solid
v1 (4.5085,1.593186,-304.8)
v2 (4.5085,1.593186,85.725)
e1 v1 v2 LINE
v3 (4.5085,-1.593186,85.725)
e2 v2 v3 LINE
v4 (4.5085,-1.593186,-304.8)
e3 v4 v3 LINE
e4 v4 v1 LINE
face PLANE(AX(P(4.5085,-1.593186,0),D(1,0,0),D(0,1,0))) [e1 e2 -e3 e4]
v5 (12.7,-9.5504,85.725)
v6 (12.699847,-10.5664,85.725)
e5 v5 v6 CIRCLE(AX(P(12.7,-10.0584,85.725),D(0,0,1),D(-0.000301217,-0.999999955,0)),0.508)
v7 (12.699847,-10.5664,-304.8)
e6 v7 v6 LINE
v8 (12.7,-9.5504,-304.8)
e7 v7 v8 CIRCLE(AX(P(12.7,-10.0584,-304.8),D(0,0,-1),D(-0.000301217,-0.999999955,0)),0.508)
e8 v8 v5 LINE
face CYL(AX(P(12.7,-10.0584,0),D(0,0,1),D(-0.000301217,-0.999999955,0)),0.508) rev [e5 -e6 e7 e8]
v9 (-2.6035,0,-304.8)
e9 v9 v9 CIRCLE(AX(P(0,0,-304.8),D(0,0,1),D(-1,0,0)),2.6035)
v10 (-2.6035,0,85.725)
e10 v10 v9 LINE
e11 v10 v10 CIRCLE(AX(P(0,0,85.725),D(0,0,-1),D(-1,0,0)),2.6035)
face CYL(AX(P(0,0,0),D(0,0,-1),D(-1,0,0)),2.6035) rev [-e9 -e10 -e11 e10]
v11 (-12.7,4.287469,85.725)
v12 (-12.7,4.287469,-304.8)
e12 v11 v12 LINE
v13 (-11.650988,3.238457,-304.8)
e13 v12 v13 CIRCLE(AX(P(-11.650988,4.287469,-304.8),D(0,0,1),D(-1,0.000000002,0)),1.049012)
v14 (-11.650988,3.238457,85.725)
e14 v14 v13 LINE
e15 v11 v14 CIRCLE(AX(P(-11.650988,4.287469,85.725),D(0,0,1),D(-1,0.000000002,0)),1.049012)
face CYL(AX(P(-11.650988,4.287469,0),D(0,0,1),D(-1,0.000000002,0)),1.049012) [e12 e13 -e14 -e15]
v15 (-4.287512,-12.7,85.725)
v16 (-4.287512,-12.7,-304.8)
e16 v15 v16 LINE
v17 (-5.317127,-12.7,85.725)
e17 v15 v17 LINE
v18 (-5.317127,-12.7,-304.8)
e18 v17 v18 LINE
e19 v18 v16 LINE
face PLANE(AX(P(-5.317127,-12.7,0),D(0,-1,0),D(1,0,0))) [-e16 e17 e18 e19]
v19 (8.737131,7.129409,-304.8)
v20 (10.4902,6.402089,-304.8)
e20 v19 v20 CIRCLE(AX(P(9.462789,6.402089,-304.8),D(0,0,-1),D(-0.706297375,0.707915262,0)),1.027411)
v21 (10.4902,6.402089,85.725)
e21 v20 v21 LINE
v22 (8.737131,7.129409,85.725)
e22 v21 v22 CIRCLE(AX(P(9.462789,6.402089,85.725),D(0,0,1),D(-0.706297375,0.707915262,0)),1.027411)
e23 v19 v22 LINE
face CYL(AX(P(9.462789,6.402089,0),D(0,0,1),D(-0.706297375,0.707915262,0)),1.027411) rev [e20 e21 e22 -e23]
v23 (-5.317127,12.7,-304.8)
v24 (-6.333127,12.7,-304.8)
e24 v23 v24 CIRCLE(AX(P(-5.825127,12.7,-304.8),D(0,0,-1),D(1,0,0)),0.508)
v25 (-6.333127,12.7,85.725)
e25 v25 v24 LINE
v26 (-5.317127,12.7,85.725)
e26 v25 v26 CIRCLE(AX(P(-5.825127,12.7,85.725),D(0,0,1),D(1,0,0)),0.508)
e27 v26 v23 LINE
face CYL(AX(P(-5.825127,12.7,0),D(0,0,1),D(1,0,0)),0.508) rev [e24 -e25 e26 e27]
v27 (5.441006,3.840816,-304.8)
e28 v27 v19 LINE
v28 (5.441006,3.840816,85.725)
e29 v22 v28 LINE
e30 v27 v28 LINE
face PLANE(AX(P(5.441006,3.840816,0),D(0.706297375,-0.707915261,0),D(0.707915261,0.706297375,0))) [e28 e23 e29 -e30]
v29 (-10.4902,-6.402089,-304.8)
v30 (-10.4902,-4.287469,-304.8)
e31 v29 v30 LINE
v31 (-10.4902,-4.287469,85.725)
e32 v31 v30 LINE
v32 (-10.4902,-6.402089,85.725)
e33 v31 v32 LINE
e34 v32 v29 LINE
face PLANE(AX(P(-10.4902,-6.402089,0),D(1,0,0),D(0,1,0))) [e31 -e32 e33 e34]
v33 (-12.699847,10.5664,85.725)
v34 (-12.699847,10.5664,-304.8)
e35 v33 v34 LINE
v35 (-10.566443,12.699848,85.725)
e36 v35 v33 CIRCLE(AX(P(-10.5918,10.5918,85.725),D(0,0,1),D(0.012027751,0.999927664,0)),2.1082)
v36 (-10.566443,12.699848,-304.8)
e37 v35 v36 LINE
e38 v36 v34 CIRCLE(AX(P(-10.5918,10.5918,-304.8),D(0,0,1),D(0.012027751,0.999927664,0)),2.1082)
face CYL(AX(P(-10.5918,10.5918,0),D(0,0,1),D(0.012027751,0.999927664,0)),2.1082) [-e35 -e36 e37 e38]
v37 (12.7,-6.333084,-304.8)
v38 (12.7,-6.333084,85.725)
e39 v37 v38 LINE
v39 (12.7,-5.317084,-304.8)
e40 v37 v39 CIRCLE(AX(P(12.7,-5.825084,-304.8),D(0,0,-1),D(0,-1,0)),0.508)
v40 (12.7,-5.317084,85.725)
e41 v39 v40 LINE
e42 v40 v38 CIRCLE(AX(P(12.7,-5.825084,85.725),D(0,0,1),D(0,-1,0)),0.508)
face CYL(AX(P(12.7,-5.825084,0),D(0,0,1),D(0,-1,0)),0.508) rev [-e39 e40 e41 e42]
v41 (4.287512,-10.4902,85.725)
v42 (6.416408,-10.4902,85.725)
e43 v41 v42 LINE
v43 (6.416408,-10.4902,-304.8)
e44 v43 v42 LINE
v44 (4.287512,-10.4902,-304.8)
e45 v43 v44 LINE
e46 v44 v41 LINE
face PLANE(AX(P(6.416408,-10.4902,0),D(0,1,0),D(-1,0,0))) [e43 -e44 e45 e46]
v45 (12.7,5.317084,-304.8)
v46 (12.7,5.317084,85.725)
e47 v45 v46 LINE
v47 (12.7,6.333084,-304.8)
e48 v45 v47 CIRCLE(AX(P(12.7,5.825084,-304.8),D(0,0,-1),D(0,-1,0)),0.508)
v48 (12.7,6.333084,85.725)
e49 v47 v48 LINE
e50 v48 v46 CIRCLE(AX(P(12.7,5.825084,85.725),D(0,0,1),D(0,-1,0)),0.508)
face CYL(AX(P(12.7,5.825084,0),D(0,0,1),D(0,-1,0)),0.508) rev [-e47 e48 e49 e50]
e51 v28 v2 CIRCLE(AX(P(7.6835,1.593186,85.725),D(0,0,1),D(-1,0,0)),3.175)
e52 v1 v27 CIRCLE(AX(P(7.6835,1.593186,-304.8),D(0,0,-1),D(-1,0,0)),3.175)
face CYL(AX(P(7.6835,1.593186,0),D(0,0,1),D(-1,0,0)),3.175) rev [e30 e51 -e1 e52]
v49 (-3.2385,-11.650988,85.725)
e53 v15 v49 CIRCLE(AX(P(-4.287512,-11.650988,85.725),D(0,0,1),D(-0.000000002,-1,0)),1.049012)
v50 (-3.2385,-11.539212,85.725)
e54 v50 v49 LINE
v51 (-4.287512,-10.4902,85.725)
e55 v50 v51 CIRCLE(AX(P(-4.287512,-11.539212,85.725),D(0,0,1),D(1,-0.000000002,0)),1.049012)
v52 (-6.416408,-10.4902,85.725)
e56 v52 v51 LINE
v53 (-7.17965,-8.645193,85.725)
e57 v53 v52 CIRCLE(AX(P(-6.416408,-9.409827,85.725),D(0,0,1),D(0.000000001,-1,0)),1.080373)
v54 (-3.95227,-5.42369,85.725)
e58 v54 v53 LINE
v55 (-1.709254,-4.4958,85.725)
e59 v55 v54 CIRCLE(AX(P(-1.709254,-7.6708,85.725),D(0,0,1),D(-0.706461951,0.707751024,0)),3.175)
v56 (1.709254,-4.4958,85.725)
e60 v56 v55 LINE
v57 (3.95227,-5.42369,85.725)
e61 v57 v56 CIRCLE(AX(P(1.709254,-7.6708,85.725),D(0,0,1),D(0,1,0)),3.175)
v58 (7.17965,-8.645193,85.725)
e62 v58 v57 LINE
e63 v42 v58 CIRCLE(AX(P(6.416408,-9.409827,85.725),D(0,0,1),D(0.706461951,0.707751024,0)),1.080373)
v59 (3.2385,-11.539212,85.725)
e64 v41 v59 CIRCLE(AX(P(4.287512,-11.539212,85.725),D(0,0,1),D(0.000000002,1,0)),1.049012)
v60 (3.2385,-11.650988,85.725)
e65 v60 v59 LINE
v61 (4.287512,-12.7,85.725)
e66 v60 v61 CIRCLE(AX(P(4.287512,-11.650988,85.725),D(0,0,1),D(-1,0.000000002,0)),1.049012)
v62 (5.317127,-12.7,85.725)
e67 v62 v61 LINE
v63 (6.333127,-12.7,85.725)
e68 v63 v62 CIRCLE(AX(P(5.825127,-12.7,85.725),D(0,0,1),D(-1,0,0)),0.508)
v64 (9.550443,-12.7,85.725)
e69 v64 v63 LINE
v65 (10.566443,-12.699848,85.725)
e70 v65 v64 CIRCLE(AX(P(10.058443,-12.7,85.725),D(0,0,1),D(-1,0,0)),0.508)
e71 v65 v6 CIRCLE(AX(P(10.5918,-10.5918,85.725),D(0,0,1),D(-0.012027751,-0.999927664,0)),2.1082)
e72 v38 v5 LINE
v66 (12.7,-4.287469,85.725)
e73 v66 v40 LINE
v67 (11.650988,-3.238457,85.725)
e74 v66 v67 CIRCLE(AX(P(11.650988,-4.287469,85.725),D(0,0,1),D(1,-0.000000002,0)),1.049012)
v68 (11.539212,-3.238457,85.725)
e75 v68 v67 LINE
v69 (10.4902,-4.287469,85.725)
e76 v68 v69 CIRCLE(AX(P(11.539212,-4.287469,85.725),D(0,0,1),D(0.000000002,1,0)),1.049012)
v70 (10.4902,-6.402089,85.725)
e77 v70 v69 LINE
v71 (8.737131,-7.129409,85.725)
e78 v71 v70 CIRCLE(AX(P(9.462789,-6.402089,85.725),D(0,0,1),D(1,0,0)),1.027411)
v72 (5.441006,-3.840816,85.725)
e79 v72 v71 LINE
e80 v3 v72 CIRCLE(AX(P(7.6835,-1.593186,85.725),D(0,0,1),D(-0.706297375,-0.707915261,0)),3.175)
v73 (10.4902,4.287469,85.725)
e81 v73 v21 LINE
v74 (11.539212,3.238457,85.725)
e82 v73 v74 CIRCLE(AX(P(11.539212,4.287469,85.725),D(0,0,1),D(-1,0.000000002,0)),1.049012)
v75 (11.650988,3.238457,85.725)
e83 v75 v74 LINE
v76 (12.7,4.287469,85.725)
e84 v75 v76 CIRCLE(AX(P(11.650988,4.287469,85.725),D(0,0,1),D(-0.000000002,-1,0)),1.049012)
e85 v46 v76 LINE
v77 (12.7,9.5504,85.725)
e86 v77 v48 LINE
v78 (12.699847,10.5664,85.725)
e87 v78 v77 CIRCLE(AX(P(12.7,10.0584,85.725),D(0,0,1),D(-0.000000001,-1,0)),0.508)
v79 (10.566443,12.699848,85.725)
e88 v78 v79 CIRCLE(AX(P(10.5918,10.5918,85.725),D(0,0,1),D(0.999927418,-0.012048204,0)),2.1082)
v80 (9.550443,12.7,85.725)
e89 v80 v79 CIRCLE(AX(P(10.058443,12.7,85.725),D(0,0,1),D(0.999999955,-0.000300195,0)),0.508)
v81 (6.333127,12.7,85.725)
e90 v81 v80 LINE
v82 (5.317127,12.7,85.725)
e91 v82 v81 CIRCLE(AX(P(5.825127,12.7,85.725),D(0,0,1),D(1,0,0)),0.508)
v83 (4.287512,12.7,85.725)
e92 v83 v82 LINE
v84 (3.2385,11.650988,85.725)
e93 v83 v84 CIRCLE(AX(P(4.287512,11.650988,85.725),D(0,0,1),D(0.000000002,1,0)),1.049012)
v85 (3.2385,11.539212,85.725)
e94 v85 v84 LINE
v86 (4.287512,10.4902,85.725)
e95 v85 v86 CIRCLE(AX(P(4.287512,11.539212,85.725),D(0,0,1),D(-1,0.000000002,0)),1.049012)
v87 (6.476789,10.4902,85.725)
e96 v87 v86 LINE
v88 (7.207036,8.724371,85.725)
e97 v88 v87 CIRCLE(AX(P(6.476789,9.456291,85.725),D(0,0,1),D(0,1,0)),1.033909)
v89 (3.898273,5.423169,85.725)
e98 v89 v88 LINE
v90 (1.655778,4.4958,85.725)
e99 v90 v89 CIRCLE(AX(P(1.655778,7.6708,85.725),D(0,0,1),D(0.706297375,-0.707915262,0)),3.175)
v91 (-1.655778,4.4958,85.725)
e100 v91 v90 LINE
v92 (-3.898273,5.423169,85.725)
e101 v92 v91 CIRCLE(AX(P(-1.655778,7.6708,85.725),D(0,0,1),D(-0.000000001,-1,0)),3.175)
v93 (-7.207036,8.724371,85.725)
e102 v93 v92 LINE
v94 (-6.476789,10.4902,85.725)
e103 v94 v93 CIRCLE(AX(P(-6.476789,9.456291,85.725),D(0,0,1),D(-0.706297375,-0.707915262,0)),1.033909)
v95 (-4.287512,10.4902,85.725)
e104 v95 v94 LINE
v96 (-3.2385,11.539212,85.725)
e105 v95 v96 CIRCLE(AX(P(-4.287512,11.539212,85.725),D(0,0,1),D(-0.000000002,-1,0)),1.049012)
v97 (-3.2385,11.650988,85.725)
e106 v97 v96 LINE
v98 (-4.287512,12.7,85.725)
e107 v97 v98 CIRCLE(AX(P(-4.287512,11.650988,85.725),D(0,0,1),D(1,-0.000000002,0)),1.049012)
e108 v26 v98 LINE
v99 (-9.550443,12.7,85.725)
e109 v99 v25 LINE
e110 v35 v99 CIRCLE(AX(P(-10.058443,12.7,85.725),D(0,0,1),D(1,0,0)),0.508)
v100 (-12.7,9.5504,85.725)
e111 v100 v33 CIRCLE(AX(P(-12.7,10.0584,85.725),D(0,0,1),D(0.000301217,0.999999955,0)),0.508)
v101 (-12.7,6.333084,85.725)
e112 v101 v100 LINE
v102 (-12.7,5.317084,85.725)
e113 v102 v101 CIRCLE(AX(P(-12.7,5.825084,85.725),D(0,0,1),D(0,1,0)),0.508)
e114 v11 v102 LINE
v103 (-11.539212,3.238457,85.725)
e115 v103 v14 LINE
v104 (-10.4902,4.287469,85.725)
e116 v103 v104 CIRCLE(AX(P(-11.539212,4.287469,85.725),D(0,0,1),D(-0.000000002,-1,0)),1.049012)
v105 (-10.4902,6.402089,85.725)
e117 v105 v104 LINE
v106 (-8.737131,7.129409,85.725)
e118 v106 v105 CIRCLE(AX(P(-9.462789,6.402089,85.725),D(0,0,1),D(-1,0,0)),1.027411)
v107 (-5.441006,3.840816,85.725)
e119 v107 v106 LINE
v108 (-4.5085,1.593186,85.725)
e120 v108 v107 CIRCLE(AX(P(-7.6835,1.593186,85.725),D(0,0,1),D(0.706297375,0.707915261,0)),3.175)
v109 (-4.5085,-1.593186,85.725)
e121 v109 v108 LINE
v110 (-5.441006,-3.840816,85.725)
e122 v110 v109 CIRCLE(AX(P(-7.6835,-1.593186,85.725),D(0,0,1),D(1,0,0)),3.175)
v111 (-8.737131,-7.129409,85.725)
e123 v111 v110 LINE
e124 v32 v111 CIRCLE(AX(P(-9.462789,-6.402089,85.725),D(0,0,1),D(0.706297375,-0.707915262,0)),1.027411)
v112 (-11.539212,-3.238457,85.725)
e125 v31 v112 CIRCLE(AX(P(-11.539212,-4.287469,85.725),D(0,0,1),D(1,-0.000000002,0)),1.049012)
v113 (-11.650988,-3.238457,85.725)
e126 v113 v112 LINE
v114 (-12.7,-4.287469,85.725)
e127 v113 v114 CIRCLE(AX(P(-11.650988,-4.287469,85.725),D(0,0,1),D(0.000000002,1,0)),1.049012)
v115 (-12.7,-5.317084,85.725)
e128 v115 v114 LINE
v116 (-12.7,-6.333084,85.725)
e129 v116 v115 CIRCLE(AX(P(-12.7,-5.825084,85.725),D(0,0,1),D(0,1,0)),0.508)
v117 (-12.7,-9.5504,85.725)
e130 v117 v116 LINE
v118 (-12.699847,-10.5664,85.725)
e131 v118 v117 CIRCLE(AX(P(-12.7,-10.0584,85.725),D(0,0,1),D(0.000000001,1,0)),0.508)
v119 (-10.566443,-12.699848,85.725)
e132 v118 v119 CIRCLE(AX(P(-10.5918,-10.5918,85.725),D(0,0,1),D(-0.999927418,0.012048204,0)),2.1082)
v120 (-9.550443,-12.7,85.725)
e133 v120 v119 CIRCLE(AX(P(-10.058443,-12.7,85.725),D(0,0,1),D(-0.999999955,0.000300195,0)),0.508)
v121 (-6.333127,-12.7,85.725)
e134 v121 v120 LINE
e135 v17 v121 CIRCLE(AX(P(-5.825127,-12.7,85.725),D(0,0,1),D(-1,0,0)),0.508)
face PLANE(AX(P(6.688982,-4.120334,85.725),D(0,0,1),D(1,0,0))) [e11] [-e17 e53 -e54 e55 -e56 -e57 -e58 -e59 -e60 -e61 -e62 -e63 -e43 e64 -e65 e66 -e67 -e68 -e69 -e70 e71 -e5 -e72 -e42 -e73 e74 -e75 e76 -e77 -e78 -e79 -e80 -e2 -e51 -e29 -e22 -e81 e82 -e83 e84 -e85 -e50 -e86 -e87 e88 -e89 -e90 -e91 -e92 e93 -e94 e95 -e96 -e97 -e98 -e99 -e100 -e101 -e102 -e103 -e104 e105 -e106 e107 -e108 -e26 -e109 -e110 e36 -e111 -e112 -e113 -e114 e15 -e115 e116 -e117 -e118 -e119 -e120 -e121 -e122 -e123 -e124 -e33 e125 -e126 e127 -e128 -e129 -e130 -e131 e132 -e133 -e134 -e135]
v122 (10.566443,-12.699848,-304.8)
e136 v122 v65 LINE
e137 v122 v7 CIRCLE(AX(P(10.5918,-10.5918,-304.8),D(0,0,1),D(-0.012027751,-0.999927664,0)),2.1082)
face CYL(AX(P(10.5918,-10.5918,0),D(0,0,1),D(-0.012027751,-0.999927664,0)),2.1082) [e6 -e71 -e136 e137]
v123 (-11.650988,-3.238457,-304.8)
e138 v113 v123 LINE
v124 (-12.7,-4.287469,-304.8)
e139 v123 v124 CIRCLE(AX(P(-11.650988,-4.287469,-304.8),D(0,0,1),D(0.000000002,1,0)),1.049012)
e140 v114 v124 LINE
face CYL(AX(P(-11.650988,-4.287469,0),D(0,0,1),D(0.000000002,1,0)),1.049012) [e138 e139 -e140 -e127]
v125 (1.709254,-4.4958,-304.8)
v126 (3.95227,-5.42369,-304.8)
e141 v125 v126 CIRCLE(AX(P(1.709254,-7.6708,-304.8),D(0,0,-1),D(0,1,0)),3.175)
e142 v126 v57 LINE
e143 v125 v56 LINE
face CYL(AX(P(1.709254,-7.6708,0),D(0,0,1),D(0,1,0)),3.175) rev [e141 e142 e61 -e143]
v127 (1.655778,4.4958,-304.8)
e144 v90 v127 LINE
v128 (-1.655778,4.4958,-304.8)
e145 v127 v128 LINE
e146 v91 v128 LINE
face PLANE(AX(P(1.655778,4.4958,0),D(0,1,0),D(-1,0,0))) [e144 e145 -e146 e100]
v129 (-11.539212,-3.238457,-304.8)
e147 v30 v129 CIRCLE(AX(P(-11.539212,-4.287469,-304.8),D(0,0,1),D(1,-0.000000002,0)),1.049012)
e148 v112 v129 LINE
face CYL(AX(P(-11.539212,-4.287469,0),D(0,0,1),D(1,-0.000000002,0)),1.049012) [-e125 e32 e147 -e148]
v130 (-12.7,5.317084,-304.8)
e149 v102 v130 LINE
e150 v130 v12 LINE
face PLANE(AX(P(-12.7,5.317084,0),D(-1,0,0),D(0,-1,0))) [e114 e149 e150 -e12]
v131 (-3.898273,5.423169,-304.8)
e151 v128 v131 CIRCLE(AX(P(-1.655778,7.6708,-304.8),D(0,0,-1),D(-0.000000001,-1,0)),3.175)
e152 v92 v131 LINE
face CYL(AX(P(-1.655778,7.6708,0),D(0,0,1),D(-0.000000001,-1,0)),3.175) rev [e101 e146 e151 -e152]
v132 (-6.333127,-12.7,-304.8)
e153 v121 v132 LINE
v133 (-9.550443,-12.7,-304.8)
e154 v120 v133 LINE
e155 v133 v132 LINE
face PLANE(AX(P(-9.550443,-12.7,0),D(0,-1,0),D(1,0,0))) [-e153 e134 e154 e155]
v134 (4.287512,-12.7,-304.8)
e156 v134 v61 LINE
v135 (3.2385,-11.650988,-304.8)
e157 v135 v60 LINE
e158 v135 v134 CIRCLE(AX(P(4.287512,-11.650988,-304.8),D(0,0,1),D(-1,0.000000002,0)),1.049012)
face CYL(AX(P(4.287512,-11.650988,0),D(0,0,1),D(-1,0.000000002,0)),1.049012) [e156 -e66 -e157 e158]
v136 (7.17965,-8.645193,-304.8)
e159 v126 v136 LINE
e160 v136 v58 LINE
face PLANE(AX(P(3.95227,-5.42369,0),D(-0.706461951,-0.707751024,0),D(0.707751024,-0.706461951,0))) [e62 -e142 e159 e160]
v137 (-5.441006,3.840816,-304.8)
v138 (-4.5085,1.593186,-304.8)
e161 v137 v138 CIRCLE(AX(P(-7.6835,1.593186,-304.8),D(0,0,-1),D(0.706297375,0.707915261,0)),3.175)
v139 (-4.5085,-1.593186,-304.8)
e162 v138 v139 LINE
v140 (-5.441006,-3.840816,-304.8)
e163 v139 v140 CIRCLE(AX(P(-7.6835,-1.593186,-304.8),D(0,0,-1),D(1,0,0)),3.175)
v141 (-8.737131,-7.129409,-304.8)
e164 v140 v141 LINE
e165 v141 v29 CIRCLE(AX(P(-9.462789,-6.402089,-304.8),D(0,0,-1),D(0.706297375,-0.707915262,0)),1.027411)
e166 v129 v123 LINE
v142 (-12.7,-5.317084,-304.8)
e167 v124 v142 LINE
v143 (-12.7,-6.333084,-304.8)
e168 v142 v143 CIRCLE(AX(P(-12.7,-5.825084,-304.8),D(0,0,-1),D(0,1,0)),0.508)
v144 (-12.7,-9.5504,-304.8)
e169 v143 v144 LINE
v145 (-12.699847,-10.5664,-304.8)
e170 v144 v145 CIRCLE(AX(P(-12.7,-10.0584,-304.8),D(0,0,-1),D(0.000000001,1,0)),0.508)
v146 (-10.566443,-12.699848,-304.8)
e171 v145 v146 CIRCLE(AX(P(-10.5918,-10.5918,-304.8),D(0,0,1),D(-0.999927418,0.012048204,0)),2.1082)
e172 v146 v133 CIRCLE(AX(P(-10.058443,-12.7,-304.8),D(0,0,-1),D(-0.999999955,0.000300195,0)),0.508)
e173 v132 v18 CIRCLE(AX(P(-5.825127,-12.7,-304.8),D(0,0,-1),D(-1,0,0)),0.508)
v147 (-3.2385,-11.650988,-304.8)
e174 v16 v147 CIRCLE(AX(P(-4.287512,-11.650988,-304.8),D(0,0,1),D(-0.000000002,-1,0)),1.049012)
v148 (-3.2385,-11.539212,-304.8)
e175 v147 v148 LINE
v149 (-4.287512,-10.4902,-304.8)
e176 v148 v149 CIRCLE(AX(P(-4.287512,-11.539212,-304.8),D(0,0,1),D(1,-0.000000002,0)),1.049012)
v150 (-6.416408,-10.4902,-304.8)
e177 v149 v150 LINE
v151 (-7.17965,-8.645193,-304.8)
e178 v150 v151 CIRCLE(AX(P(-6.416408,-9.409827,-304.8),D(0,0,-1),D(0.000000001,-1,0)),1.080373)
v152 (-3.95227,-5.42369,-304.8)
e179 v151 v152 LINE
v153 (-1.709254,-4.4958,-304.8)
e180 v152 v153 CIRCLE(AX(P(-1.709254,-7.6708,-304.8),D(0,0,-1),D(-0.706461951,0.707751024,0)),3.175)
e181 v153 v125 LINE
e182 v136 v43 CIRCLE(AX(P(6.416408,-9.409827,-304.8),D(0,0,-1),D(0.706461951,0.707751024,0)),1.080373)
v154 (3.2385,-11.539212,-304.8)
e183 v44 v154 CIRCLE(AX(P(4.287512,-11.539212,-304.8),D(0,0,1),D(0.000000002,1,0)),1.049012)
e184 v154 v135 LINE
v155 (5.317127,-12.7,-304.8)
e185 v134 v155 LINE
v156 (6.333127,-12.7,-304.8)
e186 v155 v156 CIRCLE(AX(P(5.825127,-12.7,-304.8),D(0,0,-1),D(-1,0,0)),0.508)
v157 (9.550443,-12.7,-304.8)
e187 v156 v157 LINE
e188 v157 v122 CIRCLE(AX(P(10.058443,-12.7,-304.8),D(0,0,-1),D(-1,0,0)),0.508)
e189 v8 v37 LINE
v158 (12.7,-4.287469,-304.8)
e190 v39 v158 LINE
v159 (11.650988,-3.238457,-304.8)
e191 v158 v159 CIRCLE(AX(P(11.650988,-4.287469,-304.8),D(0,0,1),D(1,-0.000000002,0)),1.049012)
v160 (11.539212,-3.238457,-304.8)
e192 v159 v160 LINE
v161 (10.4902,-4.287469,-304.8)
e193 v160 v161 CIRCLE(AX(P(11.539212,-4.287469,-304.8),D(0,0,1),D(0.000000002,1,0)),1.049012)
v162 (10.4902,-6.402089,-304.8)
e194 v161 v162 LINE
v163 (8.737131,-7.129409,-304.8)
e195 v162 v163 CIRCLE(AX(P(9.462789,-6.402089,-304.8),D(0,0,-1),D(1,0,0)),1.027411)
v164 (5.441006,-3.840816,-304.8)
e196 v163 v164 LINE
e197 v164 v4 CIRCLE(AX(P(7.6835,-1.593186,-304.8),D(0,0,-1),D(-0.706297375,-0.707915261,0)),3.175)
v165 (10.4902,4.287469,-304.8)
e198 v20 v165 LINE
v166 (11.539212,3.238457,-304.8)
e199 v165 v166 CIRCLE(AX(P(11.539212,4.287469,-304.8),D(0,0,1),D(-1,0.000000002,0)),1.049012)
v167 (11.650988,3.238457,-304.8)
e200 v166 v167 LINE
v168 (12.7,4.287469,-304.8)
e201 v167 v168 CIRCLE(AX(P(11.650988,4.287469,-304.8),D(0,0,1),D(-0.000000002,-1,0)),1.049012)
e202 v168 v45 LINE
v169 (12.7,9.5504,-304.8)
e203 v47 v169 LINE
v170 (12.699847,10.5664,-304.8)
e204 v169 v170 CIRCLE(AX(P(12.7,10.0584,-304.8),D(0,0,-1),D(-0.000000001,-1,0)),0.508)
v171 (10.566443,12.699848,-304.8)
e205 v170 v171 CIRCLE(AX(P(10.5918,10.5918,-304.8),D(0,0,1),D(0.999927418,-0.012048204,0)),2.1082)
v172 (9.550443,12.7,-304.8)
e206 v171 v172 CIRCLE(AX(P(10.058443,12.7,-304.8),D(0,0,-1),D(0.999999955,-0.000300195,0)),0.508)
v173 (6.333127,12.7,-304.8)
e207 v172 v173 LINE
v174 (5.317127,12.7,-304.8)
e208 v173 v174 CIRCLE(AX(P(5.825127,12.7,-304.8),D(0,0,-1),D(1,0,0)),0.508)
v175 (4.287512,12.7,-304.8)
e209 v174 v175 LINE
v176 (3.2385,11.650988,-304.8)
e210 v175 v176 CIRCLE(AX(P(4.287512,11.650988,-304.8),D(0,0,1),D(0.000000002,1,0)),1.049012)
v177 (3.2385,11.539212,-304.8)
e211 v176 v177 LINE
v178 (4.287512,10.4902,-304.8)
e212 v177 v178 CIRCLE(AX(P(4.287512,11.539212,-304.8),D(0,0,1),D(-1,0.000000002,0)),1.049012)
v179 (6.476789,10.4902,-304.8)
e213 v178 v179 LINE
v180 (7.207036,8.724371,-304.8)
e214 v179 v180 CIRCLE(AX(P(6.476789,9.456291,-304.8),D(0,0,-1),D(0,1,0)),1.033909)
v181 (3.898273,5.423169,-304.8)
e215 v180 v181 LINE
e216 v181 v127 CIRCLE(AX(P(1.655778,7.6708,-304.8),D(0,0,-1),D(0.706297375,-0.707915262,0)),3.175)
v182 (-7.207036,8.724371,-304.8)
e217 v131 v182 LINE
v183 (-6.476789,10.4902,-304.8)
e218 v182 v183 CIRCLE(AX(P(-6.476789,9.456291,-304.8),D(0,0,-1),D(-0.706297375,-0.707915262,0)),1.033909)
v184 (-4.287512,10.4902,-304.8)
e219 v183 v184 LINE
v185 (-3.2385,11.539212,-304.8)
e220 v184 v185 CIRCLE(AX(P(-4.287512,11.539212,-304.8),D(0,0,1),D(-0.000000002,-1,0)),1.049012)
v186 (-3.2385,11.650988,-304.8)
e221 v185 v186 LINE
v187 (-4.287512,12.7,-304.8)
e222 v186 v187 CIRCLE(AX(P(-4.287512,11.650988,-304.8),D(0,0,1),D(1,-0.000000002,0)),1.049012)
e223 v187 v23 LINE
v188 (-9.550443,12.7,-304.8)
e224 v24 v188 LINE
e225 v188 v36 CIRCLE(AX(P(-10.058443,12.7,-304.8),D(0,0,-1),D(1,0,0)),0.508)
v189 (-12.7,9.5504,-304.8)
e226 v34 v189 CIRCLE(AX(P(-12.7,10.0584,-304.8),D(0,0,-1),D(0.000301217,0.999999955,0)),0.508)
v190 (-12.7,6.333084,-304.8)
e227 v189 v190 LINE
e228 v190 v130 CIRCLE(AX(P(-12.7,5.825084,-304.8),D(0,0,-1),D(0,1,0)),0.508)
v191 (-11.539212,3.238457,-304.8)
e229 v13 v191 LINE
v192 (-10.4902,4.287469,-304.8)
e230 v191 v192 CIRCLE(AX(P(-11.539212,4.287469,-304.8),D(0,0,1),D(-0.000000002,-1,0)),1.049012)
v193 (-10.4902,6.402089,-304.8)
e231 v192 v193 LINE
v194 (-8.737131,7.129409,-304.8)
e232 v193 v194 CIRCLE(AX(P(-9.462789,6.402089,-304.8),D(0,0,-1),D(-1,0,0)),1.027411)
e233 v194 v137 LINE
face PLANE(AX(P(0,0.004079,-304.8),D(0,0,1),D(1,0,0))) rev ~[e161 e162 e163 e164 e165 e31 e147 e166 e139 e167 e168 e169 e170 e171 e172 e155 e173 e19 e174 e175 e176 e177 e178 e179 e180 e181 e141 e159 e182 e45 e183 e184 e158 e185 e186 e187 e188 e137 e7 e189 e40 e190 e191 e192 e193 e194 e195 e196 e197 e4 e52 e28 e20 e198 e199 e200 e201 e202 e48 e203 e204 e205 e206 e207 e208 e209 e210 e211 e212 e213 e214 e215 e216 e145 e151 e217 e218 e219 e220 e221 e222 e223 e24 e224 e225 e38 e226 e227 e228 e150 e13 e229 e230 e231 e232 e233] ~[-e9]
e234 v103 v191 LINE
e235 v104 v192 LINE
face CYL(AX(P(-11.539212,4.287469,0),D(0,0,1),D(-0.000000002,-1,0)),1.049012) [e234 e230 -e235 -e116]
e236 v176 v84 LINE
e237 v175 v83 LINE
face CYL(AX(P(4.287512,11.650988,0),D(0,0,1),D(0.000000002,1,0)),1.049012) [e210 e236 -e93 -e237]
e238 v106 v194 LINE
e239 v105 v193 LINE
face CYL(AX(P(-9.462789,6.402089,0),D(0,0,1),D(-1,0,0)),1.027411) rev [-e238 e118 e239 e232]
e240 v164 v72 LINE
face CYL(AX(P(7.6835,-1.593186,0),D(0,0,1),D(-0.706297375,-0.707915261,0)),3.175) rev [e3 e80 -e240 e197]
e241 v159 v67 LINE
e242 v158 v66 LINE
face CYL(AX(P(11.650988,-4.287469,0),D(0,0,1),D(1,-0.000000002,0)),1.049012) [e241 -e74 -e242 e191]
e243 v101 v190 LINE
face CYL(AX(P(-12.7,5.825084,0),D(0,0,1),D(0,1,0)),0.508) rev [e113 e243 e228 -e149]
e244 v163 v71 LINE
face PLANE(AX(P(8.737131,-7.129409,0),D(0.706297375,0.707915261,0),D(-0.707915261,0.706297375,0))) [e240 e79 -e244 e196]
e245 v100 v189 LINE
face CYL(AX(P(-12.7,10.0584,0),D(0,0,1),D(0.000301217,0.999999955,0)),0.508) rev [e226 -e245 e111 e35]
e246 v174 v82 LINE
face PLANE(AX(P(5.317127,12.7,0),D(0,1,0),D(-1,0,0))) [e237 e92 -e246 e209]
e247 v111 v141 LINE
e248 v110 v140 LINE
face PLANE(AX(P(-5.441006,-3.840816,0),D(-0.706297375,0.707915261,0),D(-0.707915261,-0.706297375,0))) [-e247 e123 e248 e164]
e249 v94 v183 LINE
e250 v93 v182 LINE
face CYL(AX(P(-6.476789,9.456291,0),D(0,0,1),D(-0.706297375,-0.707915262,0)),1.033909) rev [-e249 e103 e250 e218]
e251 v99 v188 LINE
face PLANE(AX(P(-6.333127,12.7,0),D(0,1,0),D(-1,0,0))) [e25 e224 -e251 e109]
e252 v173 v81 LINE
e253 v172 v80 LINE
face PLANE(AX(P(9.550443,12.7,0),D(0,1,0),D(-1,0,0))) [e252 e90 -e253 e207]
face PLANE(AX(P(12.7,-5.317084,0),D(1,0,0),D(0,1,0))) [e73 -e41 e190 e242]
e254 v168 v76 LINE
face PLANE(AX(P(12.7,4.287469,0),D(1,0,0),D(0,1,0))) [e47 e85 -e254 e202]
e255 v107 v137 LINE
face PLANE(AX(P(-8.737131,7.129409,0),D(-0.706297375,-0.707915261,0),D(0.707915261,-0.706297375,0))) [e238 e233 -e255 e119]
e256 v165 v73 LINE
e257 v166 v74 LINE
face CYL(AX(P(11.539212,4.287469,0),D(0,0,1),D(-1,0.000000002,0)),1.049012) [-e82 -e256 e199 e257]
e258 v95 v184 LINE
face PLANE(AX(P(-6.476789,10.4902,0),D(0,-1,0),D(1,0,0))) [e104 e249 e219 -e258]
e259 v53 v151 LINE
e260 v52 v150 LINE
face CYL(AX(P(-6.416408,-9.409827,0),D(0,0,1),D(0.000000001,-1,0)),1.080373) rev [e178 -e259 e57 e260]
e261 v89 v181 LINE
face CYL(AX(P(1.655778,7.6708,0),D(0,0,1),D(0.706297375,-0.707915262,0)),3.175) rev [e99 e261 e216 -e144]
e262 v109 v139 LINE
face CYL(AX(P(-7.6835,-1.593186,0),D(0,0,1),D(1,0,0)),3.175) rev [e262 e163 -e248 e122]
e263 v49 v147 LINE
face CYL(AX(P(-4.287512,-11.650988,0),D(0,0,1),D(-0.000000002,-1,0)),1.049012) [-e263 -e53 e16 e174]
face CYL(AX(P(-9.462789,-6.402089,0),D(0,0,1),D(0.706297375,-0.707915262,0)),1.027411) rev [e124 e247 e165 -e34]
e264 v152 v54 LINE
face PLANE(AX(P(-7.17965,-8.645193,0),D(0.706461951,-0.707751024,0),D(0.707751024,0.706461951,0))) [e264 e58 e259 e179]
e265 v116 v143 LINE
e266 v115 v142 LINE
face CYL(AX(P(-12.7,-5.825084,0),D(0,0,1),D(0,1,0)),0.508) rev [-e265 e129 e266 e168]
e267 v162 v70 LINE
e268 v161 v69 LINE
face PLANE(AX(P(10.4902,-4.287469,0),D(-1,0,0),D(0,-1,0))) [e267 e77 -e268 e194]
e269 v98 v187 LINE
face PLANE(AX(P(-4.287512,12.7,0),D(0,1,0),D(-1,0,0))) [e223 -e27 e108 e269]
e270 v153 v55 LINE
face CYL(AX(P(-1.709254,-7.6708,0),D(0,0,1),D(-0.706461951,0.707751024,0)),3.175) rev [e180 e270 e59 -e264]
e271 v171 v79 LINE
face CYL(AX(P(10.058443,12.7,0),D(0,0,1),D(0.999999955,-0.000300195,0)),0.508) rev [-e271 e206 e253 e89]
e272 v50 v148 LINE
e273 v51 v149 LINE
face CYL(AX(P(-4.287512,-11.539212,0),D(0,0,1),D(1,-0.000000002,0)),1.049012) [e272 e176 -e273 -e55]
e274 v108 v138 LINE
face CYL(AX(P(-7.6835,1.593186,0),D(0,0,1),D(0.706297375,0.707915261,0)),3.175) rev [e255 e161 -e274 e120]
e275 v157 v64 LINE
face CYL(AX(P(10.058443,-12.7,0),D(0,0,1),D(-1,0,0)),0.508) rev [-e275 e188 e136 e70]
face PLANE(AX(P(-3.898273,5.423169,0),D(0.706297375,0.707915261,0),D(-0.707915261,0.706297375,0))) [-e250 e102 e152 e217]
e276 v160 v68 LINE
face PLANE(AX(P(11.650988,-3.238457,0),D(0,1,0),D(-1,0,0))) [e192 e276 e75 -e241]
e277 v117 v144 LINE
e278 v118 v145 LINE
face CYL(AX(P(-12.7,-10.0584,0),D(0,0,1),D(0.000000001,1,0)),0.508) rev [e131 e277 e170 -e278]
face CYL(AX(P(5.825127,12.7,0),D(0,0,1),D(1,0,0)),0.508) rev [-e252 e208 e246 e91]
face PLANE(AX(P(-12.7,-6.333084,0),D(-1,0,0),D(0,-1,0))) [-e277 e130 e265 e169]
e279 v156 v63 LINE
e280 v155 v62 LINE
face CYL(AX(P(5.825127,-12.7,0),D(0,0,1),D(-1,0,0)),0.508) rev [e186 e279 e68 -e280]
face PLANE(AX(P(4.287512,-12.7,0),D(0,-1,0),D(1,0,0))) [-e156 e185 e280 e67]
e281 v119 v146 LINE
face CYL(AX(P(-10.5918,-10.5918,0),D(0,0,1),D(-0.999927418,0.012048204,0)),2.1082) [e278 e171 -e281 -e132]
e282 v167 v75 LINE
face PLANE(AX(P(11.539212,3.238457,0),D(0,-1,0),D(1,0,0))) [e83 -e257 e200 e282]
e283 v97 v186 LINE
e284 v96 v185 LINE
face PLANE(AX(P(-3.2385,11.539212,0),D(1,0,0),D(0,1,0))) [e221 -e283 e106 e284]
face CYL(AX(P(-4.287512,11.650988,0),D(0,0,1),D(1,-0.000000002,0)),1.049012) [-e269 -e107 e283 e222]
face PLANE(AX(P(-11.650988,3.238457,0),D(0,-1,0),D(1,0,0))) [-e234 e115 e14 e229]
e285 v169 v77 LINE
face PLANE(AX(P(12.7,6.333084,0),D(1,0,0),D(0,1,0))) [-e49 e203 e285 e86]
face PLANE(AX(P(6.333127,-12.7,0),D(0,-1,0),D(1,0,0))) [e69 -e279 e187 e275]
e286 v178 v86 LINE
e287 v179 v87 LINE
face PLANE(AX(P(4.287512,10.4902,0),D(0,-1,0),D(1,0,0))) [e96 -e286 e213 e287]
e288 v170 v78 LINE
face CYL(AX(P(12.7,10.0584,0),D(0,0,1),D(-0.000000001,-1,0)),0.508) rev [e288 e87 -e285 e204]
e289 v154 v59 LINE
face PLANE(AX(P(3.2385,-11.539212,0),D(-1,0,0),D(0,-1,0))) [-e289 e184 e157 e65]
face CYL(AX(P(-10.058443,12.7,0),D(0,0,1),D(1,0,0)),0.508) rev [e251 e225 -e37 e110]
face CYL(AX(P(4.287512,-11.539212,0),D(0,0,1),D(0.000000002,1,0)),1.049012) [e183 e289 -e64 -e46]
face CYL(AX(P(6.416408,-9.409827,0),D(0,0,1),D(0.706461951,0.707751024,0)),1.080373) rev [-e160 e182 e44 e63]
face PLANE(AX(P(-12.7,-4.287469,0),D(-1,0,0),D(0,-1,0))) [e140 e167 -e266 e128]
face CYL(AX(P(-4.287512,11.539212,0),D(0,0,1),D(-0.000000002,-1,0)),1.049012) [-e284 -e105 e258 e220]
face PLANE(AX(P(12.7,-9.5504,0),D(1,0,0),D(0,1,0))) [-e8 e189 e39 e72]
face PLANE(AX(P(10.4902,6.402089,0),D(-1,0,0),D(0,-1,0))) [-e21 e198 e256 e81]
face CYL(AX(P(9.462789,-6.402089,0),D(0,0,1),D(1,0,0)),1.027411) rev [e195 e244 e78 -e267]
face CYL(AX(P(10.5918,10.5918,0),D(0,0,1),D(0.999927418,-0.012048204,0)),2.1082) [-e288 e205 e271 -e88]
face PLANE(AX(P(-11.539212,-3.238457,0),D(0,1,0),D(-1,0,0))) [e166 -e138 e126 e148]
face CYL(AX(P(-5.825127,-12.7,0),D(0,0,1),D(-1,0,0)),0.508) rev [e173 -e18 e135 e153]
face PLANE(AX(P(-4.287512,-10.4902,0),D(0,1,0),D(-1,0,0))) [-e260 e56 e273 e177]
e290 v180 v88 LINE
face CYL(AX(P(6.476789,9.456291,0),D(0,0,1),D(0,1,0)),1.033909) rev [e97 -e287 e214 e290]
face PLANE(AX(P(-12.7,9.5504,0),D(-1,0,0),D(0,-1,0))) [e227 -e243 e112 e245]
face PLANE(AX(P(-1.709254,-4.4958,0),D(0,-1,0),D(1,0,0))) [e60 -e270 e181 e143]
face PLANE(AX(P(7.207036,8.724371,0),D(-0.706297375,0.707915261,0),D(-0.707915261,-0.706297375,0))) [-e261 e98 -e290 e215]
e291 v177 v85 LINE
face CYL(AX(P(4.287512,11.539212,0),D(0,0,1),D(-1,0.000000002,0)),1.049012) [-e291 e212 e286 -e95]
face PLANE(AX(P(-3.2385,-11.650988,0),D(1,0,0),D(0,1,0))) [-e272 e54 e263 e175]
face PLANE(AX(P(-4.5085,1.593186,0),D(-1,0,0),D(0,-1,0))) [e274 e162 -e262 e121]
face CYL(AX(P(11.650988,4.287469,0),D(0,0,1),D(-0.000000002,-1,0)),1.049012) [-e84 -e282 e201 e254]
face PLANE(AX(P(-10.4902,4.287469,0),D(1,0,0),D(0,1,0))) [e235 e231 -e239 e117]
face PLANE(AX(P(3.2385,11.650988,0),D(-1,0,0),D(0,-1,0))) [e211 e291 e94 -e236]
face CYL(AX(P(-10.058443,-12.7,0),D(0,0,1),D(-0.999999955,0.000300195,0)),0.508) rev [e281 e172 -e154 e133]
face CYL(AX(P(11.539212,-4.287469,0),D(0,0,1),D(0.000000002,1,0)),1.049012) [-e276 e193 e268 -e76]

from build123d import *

# Parameters (mm, degrees)
SKETCH1_R           = 2.6035
BOSS_EXTRUDE1_DEPTH = 304.8
SKETCH5_W           = 79.82264729
SKETCH5_H           = 80.595758991
CUT_EXTRUDE4_DEPTH  = 219.075


with BuildPart() as part:
    # Sketch1 → Boss-Extrude1 (new, symmetric)
    with BuildSketch(Plane.XY):
        with BuildLine():
            Line((-7.179650497, -8.645192506), (-3.952270251, -5.423690499))
            ThreePointArc((-3.952270251, -5.423690499), (-2.922936451, -4.736929036), (-1.709253557, -4.4958))
            Line((-1.709253557, -4.4958), (1.709253557, -4.4958))
            ThreePointArc((1.709253557, -4.4958), (2.922936451, -4.736929036), (3.952270251, -5.423690499))
            Line((3.952270251, -5.423690499), (7.179650497, -8.645192506))
            ThreePointArc((7.179650497, -8.645192506), (7.41473083, -9.822813117), (6.416408329, -10.4902))
            Line((6.416408329, -10.4902), (4.287512407, -10.4902))
            ThreePointArc((4.287512407, -10.4902), (3.54574862, -10.79744862), (3.2385, -11.539212407))
            Line((3.2385, -11.539212407), (3.2385, -11.650987593))
            ThreePointArc((3.2385, -11.650987593), (3.54574862, -12.39275138), (4.287512407, -12.7))
            Line((4.287512407, -12.7), (5.317126718, -12.7))
            ThreePointArc((5.317126718, -12.7), (5.825126718, -12.192), (6.333126718, -12.7))
            Line((6.333126718, -12.7), (9.550443118, -12.7))
            ThreePointArc((9.550443118, -12.7), (10.058366869, -12.192000006), (10.566443095, -12.699847501))
            ThreePointArc((10.566443095, -12.699847501), (12.082537762, -12.08250727), (12.699846982, -10.566399977))
            ThreePointArc((12.699846982, -10.566399977), (12.192000006, -10.058323491), (12.7, -9.5504))
            Line((12.7, -9.5504), (12.7, -6.3330836))
            ThreePointArc((12.7, -6.3330836), (12.192, -5.8250836), (12.7, -5.3170836))
            Line((12.7, -5.3170836), (12.7, -4.287469289))
            ThreePointArc((12.7, -4.287469289), (12.39275138, -3.545705502), (11.650987593, -3.238456882))
            Line((11.650987593, -3.238456882), (11.539212407, -3.238456882))
            ThreePointArc((11.539212407, -3.238456882), (10.79744862, -3.545705502), (10.4902, -4.287469289))
            Line((10.4902, -4.287469289), (10.4902, -6.402089023))
            ThreePointArc((10.4902, -6.402089023), (9.856505071, -7.351067942), (8.737131347, -7.129408934))
            Line((8.737131347, -7.129408934), (5.441005833, -3.840816462))
            ThreePointArc((5.441005833, -3.840816462), (4.750877967, -2.809883091), (4.5085, -1.593185507))
            Line((4.5085, -1.593185507), (4.5085, 1.593185507))
            ThreePointArc((4.5085, 1.593185507), (4.750877967, 2.809883091), (5.441005833, 3.840816462))
            Line((5.441005833, 3.840816462), (8.737131347, 7.129408934))
            ThreePointArc((8.737131347, 7.129408934), (9.856505071, 7.351067942), (10.4902, 6.402089023))
            Line((10.4902, 6.402089023), (10.4902, 4.287469289))
            ThreePointArc((10.4902, 4.287469289), (10.79744862, 3.545705502), (11.539212407, 3.238456882))
            Line((11.539212407, 3.238456882), (11.650987593, 3.238456882))
            ThreePointArc((11.650987593, 3.238456882), (12.39275138, 3.545705502), (12.7, 4.287469289))
            Line((12.7, 4.287469289), (12.7, 5.3170836))
            ThreePointArc((12.7, 5.3170836), (12.192, 5.8250836), (12.7, 6.3330836))
            Line((12.7, 6.3330836), (12.7, 9.5504))
            ThreePointArc((12.7, 9.5504), (12.192000006, 10.058323491), (12.699846982, 10.566399977))
            ThreePointArc((12.699846982, 10.566399977), (12.082537762, 12.08250727), (10.566443095, 12.699847501))
            ThreePointArc((10.566443095, 12.699847501), (10.058366869, 12.192000006), (9.550443118, 12.7))
            Line((9.550443118, 12.7), (6.333126718, 12.7))
            ThreePointArc((6.333126718, 12.7), (5.825126718, 12.192), (5.317126718, 12.7))
            Line((5.317126718, 12.7), (4.287512407, 12.7))
            ThreePointArc((4.287512407, 12.7), (3.54574862, 12.39275138), (3.2385, 11.650987593))
            Line((3.2385, 11.650987593), (3.2385, 11.539212407))
            ThreePointArc((3.2385, 11.539212407), (3.54574862, 10.79744862), (4.287512407, 10.4902))
            Line((4.287512407, 10.4902), (6.476788598, 10.4902))
            ThreePointArc((6.476788598, 10.4902), (7.432222385, 9.85140422), (7.207036008, 8.724370562))
            Line((7.207036008, 8.724370562), (3.898272566, 5.423169045))
            ThreePointArc((3.898272566, 5.423169045), (2.869120213, 4.736787962), (1.655778399, 4.4958))
            Line((1.655778399, 4.4958), (-1.655778399, 4.4958))
            ThreePointArc((-1.655778399, 4.4958), (-2.869120213, 4.736787962), (-3.898272566, 5.423169045))
            Line((-3.898272566, 5.423169045), (-7.207036008, 8.724370562))
            ThreePointArc((-7.207036008, 8.724370562), (-7.432222385, 9.85140422), (-6.476788598, 10.4902))
            Line((-6.476788598, 10.4902), (-4.287512407, 10.4902))
            ThreePointArc((-4.287512407, 10.4902), (-3.54574862, 10.79744862), (-3.2385, 11.539212407))
            Line((-3.2385, 11.539212407), (-3.2385, 11.650987593))
            ThreePointArc((-3.2385, 11.650987593), (-3.54574862, 12.39275138), (-4.287512407, 12.7))
            Line((-4.287512407, 12.7), (-5.317126718, 12.7))
            ThreePointArc((-5.317126718, 12.7), (-5.825126718, 12.192), (-6.333126718, 12.7))
            Line((-6.333126718, 12.7), (-9.550443118, 12.7))
            ThreePointArc((-9.550443118, 12.7), (-10.058366869, 12.192000006), (-10.566443095, 12.699847501))
            ThreePointArc((-10.566443095, 12.699847501), (-12.082537762, 12.08250727), (-12.699846982, 10.566399977))
            ThreePointArc((-12.699846982, 10.566399977), (-12.192000006, 10.058323491), (-12.7, 9.5504))
            Line((-12.7, 9.5504), (-12.7, 6.3330836))
            ThreePointArc((-12.7, 6.3330836), (-12.192, 5.8250836), (-12.7, 5.3170836))
            Line((-12.7, 5.3170836), (-12.7, 4.287469289))
            ThreePointArc((-12.7, 4.287469289), (-12.39275138, 3.545705502), (-11.650987593, 3.238456882))
            Line((-11.650987593, 3.238456882), (-11.539212407, 3.238456882))
            ThreePointArc((-11.539212407, 3.238456882), (-10.79744862, 3.545705502), (-10.4902, 4.287469289))
            Line((-10.4902, 4.287469289), (-10.4902, 6.402089023))
            ThreePointArc((-10.4902, 6.402089023), (-9.856505071, 7.351067942), (-8.737131347, 7.129408934))
            Line((-8.737131347, 7.129408934), (-5.441005833, 3.840816462))
            ThreePointArc((-5.441005833, 3.840816462), (-4.750877967, 2.809883091), (-4.5085, 1.593185507))
            Line((-4.5085, 1.593185507), (-4.5085, -1.593185507))
            ThreePointArc((-4.5085, -1.593185507), (-4.750877967, -2.809883091), (-5.441005833, -3.840816462))
            Line((-5.441005833, -3.840816462), (-8.737131347, -7.129408934))
            ThreePointArc((-8.737131347, -7.129408934), (-9.856505071, -7.351067942), (-10.4902, -6.402089023))
            Line((-10.4902, -6.402089023), (-10.4902, -4.287469289))
            ThreePointArc((-10.4902, -4.287469289), (-10.79744862, -3.545705502), (-11.539212407, -3.238456882))
            Line((-11.539212407, -3.238456882), (-11.650987593, -3.238456882))
            ThreePointArc((-11.650987593, -3.238456882), (-12.39275138, -3.545705502), (-12.7, -4.287469289))
            Line((-12.7, -4.287469289), (-12.7, -5.3170836))
            ThreePointArc((-12.7, -5.3170836), (-12.192, -5.8250836), (-12.7, -6.3330836))
            Line((-12.7, -6.3330836), (-12.7, -9.5504))
            ThreePointArc((-12.7, -9.5504), (-12.192000006, -10.058323491), (-12.699846982, -10.566399977))
            ThreePointArc((-12.699846982, -10.566399977), (-12.082537762, -12.08250727), (-10.566443095, -12.699847501))
            ThreePointArc((-10.566443095, -12.699847501), (-10.058366869, -12.192000006), (-9.550443118, -12.7))
            Line((-9.550443118, -12.7), (-6.333126718, -12.7))
            ThreePointArc((-6.333126718, -12.7), (-5.825126718, -12.192), (-5.317126718, -12.7))
            Line((-5.317126718, -12.7), (-4.287512407, -12.7))
            ThreePointArc((-4.287512407, -12.7), (-3.54574862, -12.39275138), (-3.2385, -11.650987593))
            Line((-3.2385, -11.650987593), (-3.2385, -11.539212407))
            ThreePointArc((-3.2385, -11.539212407), (-3.54574862, -10.79744862), (-4.287512407, -10.4902))
            Line((-4.287512407, -10.4902), (-6.416408329, -10.4902))
            ThreePointArc((-6.416408329, -10.4902), (-7.41473083, -9.822813117), (-7.179650497, -8.645192506))
        make_face()
        with Locations(Location((0, 0, 0), (0, 0, 180))):
            Circle(SKETCH1_R, mode=Mode.SUBTRACT)
    extrude(amount=BOSS_EXTRUDE1_DEPTH, both=True)

    # Sketch5 → Cut-Extrude4 (cut)
    with BuildSketch(Plane.XY.offset(304.8)):
        with Locations((6.688981976, -4.120333707)):
            Rectangle(SKETCH5_W, SKETCH5_H)
    extrude(amount=-CUT_EXTRUDE4_DEPTH, mode=Mode.SUBTRACT)


solid = part.part
